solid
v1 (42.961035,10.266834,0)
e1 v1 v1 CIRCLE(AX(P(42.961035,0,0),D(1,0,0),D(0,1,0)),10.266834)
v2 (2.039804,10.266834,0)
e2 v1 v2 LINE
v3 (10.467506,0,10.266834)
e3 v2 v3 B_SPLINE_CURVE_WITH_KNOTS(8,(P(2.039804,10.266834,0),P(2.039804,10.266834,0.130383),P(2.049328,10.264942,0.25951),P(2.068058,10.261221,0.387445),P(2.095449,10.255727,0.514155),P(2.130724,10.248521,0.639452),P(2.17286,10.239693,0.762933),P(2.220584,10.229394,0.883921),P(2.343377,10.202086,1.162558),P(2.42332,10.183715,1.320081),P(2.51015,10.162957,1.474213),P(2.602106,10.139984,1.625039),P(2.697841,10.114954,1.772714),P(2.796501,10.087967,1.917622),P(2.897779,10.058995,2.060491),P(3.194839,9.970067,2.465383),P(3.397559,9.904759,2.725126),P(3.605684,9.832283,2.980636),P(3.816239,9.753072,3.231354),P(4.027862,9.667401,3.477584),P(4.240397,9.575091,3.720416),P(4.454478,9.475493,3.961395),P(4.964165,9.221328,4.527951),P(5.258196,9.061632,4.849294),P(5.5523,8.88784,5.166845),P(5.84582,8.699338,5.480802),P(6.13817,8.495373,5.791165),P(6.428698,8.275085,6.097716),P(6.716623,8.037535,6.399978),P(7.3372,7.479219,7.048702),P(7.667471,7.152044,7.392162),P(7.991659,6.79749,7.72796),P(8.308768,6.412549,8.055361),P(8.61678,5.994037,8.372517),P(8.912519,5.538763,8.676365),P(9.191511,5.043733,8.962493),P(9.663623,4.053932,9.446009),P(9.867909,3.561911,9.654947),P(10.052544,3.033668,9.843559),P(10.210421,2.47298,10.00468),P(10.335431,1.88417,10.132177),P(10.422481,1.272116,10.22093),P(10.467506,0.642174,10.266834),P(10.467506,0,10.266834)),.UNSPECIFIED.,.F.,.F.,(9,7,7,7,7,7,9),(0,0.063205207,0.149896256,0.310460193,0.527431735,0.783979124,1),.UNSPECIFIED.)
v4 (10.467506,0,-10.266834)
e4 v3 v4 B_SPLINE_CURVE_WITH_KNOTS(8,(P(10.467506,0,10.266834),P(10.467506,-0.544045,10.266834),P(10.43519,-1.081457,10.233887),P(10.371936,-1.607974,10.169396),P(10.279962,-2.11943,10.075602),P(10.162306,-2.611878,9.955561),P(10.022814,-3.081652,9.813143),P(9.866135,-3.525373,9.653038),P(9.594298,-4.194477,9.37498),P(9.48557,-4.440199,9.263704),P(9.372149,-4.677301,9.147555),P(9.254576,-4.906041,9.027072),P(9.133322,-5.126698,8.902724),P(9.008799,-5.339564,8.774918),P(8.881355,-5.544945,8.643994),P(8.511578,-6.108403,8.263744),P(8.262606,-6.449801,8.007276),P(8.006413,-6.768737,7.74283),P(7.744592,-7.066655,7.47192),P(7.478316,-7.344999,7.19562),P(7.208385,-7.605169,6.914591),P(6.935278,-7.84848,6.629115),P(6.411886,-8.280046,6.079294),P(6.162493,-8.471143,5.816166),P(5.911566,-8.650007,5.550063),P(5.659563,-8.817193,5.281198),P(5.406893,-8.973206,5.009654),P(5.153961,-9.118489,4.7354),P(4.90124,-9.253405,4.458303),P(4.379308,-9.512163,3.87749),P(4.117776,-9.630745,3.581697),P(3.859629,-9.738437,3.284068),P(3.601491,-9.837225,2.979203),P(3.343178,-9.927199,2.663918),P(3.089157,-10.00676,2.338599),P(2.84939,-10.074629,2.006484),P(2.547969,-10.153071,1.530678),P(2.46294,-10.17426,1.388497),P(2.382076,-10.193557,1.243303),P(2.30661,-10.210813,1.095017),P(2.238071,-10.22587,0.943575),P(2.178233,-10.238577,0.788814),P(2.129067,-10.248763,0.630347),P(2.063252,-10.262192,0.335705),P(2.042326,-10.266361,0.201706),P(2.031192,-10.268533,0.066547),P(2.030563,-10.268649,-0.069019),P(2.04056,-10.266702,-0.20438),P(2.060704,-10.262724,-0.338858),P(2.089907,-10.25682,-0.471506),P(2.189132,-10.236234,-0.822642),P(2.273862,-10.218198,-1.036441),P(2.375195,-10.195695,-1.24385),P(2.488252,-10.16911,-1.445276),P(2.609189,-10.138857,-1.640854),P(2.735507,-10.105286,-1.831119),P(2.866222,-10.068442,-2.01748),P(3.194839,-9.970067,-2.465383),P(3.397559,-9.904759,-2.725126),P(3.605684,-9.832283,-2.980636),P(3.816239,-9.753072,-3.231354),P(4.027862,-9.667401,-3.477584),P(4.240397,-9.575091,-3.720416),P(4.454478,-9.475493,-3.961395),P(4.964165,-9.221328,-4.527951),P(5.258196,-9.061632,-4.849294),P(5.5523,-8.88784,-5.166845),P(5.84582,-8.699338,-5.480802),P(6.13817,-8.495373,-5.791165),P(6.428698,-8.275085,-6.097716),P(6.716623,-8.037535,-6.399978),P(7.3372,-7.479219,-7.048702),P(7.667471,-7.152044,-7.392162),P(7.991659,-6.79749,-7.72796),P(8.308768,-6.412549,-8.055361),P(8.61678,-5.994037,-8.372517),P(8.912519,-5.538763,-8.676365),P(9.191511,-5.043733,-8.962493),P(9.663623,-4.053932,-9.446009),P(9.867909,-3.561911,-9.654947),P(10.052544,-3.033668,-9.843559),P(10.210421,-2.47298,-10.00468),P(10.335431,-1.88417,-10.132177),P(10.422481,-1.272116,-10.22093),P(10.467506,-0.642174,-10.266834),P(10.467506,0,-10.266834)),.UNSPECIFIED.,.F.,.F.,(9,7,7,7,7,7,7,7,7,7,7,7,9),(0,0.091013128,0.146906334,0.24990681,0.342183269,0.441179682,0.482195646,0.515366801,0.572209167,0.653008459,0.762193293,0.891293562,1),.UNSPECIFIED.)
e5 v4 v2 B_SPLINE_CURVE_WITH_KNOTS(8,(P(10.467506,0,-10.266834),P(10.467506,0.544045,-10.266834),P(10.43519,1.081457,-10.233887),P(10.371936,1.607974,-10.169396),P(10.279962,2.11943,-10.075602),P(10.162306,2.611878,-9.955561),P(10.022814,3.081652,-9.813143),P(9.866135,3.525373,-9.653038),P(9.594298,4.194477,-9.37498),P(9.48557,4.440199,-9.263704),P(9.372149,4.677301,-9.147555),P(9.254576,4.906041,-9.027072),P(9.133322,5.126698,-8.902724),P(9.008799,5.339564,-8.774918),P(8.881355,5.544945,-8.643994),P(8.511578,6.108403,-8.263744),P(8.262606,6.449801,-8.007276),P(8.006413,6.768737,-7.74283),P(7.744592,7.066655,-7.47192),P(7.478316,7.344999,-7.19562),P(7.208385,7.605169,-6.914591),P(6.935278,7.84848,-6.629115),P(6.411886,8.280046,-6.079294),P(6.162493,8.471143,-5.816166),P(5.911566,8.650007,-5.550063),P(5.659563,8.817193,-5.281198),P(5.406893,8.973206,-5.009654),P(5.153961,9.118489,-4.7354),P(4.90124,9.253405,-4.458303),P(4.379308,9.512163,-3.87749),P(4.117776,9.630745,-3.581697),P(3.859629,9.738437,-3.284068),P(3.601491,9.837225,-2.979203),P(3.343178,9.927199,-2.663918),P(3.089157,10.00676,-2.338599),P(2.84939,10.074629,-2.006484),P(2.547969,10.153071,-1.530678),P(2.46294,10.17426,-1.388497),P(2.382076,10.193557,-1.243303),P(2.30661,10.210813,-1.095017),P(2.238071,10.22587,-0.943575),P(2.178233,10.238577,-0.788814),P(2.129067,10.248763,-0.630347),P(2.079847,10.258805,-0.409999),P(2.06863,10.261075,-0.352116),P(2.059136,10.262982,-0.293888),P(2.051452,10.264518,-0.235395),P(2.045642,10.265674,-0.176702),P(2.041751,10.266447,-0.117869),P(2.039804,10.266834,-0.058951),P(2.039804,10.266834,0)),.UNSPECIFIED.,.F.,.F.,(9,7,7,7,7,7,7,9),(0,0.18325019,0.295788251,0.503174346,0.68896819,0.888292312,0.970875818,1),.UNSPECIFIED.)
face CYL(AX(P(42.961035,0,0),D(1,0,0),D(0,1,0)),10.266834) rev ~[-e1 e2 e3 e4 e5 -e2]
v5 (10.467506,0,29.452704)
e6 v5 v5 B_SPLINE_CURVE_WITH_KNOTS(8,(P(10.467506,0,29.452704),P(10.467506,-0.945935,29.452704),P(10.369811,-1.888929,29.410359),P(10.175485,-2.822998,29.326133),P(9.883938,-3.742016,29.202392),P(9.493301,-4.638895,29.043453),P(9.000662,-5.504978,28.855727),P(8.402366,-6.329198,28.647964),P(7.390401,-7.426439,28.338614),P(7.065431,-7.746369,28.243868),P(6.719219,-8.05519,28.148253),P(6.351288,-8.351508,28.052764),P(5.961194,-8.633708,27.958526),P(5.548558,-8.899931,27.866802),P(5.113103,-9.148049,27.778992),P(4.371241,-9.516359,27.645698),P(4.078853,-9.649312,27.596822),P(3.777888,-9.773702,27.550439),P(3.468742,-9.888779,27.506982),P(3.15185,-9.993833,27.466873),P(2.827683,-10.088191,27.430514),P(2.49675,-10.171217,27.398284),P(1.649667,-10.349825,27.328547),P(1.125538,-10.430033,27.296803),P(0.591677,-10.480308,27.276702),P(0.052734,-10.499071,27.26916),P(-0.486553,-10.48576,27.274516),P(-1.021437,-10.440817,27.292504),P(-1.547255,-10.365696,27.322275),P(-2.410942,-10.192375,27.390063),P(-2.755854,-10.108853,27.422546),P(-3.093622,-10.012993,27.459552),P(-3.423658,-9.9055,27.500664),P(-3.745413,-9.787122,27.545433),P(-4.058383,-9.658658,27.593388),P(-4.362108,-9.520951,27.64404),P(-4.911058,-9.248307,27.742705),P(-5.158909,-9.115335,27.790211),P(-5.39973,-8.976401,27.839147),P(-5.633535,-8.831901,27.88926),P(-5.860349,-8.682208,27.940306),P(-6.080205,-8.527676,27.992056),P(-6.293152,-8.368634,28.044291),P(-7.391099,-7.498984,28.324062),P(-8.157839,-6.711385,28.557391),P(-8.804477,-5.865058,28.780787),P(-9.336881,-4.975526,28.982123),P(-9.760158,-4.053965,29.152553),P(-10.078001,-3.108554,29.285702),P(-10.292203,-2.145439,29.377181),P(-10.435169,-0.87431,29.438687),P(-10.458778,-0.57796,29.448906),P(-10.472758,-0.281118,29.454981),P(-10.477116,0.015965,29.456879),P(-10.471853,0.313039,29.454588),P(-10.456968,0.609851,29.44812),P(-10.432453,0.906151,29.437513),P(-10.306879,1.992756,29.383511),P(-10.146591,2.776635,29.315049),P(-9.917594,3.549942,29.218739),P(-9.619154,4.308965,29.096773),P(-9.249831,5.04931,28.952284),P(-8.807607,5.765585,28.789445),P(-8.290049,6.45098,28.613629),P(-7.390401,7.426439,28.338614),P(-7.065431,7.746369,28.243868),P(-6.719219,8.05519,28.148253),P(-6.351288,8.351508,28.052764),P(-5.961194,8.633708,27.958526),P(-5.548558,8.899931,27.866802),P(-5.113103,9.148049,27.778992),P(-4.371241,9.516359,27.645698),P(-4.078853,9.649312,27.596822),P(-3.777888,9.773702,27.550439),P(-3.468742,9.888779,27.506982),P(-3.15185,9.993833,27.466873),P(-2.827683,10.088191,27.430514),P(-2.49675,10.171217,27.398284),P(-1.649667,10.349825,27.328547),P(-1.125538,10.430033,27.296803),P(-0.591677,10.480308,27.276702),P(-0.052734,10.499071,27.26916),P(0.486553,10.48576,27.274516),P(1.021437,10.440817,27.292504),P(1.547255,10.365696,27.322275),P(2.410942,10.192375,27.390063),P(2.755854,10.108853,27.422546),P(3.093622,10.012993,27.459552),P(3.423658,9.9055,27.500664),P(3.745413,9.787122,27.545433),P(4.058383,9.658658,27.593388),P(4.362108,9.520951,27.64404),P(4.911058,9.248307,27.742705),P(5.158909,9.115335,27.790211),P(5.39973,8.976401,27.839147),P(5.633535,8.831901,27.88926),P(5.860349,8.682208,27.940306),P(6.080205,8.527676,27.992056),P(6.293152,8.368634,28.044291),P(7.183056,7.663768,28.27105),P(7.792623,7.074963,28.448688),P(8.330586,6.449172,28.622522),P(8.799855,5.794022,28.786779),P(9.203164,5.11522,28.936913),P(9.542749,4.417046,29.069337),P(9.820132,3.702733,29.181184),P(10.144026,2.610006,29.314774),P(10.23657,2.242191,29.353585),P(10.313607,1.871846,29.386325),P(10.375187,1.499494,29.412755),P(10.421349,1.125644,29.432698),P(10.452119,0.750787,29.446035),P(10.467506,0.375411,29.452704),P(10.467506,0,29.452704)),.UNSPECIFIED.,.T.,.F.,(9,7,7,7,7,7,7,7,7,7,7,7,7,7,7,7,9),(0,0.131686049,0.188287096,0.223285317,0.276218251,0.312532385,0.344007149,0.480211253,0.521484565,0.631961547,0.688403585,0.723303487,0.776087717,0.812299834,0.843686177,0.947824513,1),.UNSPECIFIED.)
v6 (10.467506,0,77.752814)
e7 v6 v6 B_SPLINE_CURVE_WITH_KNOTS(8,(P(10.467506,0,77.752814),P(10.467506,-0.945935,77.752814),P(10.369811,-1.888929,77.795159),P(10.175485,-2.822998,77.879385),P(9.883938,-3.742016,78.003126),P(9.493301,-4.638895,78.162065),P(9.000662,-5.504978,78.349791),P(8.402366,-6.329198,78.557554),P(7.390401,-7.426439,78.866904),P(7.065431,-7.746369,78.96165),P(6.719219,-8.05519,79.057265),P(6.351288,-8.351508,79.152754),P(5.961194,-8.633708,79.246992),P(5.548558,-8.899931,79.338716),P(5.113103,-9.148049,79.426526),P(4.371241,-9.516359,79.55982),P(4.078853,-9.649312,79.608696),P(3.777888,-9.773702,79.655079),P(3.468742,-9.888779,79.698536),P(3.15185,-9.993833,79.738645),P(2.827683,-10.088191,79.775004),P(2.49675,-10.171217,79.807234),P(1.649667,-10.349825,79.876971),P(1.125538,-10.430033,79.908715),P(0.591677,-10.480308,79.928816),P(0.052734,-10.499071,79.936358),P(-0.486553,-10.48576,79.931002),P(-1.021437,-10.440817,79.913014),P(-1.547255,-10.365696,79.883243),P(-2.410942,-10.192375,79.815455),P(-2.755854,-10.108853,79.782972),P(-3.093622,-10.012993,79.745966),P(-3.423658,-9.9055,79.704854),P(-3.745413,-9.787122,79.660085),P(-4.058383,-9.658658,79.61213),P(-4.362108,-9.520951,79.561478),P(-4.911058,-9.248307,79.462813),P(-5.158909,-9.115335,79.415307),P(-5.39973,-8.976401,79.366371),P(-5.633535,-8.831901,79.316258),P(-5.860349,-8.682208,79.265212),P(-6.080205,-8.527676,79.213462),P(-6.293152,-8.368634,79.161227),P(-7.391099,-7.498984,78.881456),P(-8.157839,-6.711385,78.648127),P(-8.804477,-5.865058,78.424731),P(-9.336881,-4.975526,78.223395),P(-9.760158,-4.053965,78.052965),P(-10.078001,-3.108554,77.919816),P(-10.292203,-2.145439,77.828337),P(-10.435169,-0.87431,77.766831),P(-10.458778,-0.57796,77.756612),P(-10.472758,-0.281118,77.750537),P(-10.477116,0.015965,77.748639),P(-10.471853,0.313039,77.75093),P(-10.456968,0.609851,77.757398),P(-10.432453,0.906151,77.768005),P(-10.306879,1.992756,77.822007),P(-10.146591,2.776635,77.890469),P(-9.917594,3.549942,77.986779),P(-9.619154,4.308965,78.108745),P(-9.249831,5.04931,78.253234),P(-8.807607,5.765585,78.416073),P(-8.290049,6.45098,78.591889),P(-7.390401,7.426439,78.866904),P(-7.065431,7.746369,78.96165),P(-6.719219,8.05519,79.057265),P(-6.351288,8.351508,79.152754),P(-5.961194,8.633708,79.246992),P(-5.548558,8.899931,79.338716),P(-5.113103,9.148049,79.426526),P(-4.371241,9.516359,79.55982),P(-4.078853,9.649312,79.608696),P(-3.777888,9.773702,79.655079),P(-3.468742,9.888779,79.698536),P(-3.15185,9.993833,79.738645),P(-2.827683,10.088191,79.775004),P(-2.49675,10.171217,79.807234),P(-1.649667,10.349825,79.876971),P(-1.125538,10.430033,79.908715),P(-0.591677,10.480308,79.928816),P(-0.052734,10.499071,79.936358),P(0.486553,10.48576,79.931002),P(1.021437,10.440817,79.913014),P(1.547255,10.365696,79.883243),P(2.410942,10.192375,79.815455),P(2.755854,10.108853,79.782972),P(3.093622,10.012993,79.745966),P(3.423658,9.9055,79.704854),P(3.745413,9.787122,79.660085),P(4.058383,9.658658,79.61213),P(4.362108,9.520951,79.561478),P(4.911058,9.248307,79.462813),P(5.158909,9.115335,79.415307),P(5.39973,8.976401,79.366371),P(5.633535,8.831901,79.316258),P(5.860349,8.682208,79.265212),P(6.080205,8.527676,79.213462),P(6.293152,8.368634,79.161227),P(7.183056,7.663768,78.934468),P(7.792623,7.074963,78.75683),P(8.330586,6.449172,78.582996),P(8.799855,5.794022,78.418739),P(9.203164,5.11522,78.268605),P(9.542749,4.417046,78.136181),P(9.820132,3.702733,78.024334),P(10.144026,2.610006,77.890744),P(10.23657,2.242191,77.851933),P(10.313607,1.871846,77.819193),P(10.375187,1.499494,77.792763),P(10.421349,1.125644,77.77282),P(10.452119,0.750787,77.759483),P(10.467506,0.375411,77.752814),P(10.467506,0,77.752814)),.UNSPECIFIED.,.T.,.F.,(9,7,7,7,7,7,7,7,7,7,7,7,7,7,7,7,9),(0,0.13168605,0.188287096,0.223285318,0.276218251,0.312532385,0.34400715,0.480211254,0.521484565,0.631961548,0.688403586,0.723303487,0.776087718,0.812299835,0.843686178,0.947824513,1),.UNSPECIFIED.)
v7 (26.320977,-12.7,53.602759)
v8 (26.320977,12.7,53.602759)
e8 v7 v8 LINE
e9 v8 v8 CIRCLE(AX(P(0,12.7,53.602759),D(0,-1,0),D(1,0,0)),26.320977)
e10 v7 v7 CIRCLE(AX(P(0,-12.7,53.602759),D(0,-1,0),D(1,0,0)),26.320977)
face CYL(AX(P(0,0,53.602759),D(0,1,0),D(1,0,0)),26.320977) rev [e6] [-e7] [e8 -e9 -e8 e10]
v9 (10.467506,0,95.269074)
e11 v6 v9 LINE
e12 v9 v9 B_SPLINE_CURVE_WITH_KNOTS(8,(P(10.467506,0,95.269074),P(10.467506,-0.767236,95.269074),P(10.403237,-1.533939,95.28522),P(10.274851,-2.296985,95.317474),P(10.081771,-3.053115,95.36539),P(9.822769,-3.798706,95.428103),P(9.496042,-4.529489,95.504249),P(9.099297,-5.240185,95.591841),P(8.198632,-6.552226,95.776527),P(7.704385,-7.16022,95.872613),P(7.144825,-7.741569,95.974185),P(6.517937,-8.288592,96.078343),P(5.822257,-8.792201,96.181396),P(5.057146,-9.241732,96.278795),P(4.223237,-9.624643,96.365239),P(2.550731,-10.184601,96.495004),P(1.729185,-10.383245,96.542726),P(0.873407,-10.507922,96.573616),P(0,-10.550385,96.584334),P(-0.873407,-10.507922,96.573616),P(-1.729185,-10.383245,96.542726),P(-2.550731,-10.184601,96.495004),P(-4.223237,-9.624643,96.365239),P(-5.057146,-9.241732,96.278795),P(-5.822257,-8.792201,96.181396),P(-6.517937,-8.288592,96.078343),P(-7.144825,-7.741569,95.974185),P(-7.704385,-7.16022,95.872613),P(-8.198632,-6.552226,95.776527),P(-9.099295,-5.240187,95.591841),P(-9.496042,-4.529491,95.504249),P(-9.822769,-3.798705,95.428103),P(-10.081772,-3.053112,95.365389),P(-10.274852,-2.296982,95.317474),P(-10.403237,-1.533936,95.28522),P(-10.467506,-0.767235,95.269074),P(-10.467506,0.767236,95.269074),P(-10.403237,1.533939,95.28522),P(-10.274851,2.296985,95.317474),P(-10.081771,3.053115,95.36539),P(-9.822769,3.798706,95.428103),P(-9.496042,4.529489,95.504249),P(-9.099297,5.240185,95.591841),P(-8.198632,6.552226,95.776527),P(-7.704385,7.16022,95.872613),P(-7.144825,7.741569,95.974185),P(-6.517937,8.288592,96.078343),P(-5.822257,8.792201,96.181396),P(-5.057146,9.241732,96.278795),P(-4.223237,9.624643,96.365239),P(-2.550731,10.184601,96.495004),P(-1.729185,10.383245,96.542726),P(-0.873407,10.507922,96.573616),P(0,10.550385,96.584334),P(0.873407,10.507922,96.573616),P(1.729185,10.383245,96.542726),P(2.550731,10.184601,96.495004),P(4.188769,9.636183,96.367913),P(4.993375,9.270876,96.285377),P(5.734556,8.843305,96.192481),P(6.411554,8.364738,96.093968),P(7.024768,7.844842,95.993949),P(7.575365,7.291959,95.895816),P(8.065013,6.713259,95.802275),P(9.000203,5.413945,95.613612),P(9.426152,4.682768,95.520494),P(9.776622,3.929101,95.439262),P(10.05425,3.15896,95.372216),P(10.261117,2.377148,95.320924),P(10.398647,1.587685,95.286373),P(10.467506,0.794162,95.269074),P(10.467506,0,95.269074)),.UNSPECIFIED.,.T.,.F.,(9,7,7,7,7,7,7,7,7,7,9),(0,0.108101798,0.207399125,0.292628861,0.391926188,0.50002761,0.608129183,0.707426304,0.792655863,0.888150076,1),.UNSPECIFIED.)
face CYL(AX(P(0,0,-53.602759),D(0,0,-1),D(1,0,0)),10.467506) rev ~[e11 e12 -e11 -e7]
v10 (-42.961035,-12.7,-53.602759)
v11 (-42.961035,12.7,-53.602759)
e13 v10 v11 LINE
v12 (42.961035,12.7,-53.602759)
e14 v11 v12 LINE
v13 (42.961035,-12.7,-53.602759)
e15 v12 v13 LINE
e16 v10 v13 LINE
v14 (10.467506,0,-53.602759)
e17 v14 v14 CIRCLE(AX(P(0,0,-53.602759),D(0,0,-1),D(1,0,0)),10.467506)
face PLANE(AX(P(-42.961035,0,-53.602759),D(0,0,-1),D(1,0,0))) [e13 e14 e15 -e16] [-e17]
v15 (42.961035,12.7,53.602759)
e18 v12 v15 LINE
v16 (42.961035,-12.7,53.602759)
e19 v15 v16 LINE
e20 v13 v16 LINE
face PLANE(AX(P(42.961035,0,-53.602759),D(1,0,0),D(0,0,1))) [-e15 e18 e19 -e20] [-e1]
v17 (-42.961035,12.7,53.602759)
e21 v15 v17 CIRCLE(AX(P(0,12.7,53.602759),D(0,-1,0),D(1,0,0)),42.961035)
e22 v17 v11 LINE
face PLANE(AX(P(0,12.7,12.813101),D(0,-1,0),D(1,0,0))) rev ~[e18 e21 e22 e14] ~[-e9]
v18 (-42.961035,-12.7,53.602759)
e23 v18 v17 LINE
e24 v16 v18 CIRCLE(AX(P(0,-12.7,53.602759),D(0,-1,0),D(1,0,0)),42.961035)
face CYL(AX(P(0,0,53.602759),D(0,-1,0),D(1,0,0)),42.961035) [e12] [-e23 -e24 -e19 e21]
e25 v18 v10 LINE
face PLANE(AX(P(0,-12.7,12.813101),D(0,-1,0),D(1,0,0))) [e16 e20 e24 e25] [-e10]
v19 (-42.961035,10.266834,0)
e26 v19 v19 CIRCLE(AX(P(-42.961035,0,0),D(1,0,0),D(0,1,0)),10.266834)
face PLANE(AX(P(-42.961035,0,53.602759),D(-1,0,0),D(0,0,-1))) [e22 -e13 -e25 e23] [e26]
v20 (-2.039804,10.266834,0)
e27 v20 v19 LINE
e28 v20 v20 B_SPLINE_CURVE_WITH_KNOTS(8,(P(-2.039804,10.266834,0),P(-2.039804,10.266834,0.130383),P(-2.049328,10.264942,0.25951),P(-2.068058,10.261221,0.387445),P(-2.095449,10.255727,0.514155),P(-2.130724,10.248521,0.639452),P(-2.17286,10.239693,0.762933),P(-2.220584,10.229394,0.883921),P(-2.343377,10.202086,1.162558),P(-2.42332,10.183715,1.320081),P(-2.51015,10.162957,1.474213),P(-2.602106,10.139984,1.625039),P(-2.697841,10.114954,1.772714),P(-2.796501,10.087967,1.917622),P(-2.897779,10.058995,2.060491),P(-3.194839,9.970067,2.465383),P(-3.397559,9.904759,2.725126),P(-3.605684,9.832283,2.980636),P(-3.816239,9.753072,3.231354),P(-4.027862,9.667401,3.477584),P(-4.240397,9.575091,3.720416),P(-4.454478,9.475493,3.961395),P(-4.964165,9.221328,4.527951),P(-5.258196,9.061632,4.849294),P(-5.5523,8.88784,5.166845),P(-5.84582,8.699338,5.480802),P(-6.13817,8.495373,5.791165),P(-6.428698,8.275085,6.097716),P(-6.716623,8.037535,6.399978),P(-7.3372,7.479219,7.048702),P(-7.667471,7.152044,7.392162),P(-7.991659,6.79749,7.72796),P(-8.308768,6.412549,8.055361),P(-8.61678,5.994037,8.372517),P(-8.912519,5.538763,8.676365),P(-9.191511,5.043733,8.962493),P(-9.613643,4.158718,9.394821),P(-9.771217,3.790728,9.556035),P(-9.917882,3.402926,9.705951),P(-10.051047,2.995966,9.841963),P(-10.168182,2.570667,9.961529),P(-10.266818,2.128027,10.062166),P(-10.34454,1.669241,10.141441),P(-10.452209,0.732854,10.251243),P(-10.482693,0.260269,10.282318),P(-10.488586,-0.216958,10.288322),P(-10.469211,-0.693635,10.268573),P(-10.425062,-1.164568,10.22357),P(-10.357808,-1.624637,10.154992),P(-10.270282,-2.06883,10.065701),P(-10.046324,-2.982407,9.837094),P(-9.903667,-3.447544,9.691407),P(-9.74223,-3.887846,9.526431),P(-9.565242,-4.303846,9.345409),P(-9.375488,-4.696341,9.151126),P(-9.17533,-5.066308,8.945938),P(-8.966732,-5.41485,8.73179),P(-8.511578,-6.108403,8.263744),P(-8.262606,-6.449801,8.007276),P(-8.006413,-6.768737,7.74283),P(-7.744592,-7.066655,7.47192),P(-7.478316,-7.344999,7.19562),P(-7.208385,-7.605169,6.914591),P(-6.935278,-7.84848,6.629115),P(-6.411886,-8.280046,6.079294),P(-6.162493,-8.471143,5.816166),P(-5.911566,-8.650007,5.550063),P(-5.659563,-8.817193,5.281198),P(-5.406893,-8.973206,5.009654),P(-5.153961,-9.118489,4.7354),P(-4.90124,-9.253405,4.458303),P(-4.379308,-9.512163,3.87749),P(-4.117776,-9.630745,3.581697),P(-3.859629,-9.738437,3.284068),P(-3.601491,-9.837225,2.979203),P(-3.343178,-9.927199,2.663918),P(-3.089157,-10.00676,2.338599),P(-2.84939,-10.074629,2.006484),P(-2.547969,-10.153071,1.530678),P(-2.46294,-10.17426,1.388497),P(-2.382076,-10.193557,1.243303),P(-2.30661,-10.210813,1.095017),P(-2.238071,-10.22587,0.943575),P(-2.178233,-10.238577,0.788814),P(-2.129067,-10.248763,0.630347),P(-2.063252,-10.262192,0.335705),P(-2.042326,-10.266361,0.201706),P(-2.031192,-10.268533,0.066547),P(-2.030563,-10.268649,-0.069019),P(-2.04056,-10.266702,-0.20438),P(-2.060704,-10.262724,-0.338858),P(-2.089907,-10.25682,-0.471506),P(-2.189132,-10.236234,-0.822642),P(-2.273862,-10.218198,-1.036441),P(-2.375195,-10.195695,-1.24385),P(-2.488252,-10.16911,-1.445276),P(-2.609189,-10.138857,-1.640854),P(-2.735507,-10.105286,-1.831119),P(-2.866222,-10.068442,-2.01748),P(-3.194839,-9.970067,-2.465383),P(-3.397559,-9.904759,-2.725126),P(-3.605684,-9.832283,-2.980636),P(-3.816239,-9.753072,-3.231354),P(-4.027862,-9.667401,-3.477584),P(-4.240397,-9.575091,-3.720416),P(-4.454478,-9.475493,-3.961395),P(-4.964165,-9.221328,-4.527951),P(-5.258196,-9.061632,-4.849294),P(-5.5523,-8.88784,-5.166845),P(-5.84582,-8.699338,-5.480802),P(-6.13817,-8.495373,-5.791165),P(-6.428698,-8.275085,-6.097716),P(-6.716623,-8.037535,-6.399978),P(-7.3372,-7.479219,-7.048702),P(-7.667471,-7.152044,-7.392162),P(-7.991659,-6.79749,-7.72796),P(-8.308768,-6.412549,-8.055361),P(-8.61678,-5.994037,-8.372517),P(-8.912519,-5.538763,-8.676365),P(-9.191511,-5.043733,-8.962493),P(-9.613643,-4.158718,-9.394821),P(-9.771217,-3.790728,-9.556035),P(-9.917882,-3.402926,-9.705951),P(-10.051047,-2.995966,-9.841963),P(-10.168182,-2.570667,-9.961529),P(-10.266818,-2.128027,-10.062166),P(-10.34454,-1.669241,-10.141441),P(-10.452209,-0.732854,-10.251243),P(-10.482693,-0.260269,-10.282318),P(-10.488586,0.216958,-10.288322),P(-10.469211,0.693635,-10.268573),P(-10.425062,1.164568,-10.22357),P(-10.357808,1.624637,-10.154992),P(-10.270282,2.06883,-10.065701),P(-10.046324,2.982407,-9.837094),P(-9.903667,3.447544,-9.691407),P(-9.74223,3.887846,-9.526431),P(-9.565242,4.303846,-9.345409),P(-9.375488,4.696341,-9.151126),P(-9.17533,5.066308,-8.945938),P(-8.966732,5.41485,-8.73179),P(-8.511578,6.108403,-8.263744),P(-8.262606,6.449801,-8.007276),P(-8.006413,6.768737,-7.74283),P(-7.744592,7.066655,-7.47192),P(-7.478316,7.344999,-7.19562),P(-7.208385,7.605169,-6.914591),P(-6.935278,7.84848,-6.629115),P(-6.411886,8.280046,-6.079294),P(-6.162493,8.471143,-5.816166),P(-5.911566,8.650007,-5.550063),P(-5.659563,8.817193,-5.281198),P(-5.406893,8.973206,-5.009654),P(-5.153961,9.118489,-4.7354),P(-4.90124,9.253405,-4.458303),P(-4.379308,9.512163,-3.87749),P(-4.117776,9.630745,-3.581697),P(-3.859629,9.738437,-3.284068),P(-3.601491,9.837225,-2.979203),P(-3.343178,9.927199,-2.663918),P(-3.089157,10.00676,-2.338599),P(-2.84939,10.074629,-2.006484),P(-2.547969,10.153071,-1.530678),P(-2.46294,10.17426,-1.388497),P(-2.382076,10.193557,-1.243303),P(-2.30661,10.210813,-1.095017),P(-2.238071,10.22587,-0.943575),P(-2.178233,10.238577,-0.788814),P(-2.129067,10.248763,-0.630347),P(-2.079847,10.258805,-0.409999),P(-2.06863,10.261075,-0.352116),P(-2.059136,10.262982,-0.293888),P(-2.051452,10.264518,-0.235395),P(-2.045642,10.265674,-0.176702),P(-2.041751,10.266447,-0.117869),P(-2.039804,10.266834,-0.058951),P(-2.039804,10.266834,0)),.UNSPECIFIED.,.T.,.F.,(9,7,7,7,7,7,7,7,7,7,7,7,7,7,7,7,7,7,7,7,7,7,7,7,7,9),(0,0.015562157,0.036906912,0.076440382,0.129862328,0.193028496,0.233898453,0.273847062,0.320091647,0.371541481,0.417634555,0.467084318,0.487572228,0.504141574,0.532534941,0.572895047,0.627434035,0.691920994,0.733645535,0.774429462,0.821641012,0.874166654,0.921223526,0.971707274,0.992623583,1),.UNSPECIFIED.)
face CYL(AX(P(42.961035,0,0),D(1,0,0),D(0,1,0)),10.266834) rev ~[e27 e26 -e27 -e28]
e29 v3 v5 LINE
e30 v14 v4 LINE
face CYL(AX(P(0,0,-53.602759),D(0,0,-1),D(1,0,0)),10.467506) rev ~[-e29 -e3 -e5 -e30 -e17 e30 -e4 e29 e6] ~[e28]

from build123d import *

# Parameters (mm, degrees)
F0_R     = 26.320977
F1_DEPTH = 12.7
F2_R     = 10.467506
F3_DEPTH = 150.167553
F4_R     = 10.266834
F5_DEPTH = 85.92307


with BuildPart() as f1:
    # F0 (on Front) → F1 (new body, symmetric)
    with BuildSketch(Plane.XZ):
        with BuildLine():
            Line((-42.961035, -53.602759), (42.961035, -53.602759))
            Line((42.961035, -53.602759), (42.961035, 53.602759))
            ThreePointArc((42.961035, 53.602759), (0, 96.563794), (-42.961035, 53.602759))
            Line((-42.961035, 53.602759), (-42.961035, -53.602759))
        make_face()
        with Locations((0, 53.602759)):
            Circle(F0_R, mode=Mode.SUBTRACT)
    extrude(amount=F1_DEPTH, both=True)

    # F2 (on face) → F3 (cut, through all)
    with BuildSketch(Plane(origin=(0, 0, -53.602759), x_dir=(1, 0, 0), z_dir=(0, 0, -1))):
        Circle(F2_R)
    extrude(amount=-F3_DEPTH, mode=Mode.SUBTRACT)

    # F4 (on face) → F5 (cut, through all)
    with BuildSketch(Plane.YZ.offset(42.961035)):
        Circle(F4_R)
    extrude(amount=-F5_DEPTH, mode=Mode.SUBTRACT)


solid = f1.part
